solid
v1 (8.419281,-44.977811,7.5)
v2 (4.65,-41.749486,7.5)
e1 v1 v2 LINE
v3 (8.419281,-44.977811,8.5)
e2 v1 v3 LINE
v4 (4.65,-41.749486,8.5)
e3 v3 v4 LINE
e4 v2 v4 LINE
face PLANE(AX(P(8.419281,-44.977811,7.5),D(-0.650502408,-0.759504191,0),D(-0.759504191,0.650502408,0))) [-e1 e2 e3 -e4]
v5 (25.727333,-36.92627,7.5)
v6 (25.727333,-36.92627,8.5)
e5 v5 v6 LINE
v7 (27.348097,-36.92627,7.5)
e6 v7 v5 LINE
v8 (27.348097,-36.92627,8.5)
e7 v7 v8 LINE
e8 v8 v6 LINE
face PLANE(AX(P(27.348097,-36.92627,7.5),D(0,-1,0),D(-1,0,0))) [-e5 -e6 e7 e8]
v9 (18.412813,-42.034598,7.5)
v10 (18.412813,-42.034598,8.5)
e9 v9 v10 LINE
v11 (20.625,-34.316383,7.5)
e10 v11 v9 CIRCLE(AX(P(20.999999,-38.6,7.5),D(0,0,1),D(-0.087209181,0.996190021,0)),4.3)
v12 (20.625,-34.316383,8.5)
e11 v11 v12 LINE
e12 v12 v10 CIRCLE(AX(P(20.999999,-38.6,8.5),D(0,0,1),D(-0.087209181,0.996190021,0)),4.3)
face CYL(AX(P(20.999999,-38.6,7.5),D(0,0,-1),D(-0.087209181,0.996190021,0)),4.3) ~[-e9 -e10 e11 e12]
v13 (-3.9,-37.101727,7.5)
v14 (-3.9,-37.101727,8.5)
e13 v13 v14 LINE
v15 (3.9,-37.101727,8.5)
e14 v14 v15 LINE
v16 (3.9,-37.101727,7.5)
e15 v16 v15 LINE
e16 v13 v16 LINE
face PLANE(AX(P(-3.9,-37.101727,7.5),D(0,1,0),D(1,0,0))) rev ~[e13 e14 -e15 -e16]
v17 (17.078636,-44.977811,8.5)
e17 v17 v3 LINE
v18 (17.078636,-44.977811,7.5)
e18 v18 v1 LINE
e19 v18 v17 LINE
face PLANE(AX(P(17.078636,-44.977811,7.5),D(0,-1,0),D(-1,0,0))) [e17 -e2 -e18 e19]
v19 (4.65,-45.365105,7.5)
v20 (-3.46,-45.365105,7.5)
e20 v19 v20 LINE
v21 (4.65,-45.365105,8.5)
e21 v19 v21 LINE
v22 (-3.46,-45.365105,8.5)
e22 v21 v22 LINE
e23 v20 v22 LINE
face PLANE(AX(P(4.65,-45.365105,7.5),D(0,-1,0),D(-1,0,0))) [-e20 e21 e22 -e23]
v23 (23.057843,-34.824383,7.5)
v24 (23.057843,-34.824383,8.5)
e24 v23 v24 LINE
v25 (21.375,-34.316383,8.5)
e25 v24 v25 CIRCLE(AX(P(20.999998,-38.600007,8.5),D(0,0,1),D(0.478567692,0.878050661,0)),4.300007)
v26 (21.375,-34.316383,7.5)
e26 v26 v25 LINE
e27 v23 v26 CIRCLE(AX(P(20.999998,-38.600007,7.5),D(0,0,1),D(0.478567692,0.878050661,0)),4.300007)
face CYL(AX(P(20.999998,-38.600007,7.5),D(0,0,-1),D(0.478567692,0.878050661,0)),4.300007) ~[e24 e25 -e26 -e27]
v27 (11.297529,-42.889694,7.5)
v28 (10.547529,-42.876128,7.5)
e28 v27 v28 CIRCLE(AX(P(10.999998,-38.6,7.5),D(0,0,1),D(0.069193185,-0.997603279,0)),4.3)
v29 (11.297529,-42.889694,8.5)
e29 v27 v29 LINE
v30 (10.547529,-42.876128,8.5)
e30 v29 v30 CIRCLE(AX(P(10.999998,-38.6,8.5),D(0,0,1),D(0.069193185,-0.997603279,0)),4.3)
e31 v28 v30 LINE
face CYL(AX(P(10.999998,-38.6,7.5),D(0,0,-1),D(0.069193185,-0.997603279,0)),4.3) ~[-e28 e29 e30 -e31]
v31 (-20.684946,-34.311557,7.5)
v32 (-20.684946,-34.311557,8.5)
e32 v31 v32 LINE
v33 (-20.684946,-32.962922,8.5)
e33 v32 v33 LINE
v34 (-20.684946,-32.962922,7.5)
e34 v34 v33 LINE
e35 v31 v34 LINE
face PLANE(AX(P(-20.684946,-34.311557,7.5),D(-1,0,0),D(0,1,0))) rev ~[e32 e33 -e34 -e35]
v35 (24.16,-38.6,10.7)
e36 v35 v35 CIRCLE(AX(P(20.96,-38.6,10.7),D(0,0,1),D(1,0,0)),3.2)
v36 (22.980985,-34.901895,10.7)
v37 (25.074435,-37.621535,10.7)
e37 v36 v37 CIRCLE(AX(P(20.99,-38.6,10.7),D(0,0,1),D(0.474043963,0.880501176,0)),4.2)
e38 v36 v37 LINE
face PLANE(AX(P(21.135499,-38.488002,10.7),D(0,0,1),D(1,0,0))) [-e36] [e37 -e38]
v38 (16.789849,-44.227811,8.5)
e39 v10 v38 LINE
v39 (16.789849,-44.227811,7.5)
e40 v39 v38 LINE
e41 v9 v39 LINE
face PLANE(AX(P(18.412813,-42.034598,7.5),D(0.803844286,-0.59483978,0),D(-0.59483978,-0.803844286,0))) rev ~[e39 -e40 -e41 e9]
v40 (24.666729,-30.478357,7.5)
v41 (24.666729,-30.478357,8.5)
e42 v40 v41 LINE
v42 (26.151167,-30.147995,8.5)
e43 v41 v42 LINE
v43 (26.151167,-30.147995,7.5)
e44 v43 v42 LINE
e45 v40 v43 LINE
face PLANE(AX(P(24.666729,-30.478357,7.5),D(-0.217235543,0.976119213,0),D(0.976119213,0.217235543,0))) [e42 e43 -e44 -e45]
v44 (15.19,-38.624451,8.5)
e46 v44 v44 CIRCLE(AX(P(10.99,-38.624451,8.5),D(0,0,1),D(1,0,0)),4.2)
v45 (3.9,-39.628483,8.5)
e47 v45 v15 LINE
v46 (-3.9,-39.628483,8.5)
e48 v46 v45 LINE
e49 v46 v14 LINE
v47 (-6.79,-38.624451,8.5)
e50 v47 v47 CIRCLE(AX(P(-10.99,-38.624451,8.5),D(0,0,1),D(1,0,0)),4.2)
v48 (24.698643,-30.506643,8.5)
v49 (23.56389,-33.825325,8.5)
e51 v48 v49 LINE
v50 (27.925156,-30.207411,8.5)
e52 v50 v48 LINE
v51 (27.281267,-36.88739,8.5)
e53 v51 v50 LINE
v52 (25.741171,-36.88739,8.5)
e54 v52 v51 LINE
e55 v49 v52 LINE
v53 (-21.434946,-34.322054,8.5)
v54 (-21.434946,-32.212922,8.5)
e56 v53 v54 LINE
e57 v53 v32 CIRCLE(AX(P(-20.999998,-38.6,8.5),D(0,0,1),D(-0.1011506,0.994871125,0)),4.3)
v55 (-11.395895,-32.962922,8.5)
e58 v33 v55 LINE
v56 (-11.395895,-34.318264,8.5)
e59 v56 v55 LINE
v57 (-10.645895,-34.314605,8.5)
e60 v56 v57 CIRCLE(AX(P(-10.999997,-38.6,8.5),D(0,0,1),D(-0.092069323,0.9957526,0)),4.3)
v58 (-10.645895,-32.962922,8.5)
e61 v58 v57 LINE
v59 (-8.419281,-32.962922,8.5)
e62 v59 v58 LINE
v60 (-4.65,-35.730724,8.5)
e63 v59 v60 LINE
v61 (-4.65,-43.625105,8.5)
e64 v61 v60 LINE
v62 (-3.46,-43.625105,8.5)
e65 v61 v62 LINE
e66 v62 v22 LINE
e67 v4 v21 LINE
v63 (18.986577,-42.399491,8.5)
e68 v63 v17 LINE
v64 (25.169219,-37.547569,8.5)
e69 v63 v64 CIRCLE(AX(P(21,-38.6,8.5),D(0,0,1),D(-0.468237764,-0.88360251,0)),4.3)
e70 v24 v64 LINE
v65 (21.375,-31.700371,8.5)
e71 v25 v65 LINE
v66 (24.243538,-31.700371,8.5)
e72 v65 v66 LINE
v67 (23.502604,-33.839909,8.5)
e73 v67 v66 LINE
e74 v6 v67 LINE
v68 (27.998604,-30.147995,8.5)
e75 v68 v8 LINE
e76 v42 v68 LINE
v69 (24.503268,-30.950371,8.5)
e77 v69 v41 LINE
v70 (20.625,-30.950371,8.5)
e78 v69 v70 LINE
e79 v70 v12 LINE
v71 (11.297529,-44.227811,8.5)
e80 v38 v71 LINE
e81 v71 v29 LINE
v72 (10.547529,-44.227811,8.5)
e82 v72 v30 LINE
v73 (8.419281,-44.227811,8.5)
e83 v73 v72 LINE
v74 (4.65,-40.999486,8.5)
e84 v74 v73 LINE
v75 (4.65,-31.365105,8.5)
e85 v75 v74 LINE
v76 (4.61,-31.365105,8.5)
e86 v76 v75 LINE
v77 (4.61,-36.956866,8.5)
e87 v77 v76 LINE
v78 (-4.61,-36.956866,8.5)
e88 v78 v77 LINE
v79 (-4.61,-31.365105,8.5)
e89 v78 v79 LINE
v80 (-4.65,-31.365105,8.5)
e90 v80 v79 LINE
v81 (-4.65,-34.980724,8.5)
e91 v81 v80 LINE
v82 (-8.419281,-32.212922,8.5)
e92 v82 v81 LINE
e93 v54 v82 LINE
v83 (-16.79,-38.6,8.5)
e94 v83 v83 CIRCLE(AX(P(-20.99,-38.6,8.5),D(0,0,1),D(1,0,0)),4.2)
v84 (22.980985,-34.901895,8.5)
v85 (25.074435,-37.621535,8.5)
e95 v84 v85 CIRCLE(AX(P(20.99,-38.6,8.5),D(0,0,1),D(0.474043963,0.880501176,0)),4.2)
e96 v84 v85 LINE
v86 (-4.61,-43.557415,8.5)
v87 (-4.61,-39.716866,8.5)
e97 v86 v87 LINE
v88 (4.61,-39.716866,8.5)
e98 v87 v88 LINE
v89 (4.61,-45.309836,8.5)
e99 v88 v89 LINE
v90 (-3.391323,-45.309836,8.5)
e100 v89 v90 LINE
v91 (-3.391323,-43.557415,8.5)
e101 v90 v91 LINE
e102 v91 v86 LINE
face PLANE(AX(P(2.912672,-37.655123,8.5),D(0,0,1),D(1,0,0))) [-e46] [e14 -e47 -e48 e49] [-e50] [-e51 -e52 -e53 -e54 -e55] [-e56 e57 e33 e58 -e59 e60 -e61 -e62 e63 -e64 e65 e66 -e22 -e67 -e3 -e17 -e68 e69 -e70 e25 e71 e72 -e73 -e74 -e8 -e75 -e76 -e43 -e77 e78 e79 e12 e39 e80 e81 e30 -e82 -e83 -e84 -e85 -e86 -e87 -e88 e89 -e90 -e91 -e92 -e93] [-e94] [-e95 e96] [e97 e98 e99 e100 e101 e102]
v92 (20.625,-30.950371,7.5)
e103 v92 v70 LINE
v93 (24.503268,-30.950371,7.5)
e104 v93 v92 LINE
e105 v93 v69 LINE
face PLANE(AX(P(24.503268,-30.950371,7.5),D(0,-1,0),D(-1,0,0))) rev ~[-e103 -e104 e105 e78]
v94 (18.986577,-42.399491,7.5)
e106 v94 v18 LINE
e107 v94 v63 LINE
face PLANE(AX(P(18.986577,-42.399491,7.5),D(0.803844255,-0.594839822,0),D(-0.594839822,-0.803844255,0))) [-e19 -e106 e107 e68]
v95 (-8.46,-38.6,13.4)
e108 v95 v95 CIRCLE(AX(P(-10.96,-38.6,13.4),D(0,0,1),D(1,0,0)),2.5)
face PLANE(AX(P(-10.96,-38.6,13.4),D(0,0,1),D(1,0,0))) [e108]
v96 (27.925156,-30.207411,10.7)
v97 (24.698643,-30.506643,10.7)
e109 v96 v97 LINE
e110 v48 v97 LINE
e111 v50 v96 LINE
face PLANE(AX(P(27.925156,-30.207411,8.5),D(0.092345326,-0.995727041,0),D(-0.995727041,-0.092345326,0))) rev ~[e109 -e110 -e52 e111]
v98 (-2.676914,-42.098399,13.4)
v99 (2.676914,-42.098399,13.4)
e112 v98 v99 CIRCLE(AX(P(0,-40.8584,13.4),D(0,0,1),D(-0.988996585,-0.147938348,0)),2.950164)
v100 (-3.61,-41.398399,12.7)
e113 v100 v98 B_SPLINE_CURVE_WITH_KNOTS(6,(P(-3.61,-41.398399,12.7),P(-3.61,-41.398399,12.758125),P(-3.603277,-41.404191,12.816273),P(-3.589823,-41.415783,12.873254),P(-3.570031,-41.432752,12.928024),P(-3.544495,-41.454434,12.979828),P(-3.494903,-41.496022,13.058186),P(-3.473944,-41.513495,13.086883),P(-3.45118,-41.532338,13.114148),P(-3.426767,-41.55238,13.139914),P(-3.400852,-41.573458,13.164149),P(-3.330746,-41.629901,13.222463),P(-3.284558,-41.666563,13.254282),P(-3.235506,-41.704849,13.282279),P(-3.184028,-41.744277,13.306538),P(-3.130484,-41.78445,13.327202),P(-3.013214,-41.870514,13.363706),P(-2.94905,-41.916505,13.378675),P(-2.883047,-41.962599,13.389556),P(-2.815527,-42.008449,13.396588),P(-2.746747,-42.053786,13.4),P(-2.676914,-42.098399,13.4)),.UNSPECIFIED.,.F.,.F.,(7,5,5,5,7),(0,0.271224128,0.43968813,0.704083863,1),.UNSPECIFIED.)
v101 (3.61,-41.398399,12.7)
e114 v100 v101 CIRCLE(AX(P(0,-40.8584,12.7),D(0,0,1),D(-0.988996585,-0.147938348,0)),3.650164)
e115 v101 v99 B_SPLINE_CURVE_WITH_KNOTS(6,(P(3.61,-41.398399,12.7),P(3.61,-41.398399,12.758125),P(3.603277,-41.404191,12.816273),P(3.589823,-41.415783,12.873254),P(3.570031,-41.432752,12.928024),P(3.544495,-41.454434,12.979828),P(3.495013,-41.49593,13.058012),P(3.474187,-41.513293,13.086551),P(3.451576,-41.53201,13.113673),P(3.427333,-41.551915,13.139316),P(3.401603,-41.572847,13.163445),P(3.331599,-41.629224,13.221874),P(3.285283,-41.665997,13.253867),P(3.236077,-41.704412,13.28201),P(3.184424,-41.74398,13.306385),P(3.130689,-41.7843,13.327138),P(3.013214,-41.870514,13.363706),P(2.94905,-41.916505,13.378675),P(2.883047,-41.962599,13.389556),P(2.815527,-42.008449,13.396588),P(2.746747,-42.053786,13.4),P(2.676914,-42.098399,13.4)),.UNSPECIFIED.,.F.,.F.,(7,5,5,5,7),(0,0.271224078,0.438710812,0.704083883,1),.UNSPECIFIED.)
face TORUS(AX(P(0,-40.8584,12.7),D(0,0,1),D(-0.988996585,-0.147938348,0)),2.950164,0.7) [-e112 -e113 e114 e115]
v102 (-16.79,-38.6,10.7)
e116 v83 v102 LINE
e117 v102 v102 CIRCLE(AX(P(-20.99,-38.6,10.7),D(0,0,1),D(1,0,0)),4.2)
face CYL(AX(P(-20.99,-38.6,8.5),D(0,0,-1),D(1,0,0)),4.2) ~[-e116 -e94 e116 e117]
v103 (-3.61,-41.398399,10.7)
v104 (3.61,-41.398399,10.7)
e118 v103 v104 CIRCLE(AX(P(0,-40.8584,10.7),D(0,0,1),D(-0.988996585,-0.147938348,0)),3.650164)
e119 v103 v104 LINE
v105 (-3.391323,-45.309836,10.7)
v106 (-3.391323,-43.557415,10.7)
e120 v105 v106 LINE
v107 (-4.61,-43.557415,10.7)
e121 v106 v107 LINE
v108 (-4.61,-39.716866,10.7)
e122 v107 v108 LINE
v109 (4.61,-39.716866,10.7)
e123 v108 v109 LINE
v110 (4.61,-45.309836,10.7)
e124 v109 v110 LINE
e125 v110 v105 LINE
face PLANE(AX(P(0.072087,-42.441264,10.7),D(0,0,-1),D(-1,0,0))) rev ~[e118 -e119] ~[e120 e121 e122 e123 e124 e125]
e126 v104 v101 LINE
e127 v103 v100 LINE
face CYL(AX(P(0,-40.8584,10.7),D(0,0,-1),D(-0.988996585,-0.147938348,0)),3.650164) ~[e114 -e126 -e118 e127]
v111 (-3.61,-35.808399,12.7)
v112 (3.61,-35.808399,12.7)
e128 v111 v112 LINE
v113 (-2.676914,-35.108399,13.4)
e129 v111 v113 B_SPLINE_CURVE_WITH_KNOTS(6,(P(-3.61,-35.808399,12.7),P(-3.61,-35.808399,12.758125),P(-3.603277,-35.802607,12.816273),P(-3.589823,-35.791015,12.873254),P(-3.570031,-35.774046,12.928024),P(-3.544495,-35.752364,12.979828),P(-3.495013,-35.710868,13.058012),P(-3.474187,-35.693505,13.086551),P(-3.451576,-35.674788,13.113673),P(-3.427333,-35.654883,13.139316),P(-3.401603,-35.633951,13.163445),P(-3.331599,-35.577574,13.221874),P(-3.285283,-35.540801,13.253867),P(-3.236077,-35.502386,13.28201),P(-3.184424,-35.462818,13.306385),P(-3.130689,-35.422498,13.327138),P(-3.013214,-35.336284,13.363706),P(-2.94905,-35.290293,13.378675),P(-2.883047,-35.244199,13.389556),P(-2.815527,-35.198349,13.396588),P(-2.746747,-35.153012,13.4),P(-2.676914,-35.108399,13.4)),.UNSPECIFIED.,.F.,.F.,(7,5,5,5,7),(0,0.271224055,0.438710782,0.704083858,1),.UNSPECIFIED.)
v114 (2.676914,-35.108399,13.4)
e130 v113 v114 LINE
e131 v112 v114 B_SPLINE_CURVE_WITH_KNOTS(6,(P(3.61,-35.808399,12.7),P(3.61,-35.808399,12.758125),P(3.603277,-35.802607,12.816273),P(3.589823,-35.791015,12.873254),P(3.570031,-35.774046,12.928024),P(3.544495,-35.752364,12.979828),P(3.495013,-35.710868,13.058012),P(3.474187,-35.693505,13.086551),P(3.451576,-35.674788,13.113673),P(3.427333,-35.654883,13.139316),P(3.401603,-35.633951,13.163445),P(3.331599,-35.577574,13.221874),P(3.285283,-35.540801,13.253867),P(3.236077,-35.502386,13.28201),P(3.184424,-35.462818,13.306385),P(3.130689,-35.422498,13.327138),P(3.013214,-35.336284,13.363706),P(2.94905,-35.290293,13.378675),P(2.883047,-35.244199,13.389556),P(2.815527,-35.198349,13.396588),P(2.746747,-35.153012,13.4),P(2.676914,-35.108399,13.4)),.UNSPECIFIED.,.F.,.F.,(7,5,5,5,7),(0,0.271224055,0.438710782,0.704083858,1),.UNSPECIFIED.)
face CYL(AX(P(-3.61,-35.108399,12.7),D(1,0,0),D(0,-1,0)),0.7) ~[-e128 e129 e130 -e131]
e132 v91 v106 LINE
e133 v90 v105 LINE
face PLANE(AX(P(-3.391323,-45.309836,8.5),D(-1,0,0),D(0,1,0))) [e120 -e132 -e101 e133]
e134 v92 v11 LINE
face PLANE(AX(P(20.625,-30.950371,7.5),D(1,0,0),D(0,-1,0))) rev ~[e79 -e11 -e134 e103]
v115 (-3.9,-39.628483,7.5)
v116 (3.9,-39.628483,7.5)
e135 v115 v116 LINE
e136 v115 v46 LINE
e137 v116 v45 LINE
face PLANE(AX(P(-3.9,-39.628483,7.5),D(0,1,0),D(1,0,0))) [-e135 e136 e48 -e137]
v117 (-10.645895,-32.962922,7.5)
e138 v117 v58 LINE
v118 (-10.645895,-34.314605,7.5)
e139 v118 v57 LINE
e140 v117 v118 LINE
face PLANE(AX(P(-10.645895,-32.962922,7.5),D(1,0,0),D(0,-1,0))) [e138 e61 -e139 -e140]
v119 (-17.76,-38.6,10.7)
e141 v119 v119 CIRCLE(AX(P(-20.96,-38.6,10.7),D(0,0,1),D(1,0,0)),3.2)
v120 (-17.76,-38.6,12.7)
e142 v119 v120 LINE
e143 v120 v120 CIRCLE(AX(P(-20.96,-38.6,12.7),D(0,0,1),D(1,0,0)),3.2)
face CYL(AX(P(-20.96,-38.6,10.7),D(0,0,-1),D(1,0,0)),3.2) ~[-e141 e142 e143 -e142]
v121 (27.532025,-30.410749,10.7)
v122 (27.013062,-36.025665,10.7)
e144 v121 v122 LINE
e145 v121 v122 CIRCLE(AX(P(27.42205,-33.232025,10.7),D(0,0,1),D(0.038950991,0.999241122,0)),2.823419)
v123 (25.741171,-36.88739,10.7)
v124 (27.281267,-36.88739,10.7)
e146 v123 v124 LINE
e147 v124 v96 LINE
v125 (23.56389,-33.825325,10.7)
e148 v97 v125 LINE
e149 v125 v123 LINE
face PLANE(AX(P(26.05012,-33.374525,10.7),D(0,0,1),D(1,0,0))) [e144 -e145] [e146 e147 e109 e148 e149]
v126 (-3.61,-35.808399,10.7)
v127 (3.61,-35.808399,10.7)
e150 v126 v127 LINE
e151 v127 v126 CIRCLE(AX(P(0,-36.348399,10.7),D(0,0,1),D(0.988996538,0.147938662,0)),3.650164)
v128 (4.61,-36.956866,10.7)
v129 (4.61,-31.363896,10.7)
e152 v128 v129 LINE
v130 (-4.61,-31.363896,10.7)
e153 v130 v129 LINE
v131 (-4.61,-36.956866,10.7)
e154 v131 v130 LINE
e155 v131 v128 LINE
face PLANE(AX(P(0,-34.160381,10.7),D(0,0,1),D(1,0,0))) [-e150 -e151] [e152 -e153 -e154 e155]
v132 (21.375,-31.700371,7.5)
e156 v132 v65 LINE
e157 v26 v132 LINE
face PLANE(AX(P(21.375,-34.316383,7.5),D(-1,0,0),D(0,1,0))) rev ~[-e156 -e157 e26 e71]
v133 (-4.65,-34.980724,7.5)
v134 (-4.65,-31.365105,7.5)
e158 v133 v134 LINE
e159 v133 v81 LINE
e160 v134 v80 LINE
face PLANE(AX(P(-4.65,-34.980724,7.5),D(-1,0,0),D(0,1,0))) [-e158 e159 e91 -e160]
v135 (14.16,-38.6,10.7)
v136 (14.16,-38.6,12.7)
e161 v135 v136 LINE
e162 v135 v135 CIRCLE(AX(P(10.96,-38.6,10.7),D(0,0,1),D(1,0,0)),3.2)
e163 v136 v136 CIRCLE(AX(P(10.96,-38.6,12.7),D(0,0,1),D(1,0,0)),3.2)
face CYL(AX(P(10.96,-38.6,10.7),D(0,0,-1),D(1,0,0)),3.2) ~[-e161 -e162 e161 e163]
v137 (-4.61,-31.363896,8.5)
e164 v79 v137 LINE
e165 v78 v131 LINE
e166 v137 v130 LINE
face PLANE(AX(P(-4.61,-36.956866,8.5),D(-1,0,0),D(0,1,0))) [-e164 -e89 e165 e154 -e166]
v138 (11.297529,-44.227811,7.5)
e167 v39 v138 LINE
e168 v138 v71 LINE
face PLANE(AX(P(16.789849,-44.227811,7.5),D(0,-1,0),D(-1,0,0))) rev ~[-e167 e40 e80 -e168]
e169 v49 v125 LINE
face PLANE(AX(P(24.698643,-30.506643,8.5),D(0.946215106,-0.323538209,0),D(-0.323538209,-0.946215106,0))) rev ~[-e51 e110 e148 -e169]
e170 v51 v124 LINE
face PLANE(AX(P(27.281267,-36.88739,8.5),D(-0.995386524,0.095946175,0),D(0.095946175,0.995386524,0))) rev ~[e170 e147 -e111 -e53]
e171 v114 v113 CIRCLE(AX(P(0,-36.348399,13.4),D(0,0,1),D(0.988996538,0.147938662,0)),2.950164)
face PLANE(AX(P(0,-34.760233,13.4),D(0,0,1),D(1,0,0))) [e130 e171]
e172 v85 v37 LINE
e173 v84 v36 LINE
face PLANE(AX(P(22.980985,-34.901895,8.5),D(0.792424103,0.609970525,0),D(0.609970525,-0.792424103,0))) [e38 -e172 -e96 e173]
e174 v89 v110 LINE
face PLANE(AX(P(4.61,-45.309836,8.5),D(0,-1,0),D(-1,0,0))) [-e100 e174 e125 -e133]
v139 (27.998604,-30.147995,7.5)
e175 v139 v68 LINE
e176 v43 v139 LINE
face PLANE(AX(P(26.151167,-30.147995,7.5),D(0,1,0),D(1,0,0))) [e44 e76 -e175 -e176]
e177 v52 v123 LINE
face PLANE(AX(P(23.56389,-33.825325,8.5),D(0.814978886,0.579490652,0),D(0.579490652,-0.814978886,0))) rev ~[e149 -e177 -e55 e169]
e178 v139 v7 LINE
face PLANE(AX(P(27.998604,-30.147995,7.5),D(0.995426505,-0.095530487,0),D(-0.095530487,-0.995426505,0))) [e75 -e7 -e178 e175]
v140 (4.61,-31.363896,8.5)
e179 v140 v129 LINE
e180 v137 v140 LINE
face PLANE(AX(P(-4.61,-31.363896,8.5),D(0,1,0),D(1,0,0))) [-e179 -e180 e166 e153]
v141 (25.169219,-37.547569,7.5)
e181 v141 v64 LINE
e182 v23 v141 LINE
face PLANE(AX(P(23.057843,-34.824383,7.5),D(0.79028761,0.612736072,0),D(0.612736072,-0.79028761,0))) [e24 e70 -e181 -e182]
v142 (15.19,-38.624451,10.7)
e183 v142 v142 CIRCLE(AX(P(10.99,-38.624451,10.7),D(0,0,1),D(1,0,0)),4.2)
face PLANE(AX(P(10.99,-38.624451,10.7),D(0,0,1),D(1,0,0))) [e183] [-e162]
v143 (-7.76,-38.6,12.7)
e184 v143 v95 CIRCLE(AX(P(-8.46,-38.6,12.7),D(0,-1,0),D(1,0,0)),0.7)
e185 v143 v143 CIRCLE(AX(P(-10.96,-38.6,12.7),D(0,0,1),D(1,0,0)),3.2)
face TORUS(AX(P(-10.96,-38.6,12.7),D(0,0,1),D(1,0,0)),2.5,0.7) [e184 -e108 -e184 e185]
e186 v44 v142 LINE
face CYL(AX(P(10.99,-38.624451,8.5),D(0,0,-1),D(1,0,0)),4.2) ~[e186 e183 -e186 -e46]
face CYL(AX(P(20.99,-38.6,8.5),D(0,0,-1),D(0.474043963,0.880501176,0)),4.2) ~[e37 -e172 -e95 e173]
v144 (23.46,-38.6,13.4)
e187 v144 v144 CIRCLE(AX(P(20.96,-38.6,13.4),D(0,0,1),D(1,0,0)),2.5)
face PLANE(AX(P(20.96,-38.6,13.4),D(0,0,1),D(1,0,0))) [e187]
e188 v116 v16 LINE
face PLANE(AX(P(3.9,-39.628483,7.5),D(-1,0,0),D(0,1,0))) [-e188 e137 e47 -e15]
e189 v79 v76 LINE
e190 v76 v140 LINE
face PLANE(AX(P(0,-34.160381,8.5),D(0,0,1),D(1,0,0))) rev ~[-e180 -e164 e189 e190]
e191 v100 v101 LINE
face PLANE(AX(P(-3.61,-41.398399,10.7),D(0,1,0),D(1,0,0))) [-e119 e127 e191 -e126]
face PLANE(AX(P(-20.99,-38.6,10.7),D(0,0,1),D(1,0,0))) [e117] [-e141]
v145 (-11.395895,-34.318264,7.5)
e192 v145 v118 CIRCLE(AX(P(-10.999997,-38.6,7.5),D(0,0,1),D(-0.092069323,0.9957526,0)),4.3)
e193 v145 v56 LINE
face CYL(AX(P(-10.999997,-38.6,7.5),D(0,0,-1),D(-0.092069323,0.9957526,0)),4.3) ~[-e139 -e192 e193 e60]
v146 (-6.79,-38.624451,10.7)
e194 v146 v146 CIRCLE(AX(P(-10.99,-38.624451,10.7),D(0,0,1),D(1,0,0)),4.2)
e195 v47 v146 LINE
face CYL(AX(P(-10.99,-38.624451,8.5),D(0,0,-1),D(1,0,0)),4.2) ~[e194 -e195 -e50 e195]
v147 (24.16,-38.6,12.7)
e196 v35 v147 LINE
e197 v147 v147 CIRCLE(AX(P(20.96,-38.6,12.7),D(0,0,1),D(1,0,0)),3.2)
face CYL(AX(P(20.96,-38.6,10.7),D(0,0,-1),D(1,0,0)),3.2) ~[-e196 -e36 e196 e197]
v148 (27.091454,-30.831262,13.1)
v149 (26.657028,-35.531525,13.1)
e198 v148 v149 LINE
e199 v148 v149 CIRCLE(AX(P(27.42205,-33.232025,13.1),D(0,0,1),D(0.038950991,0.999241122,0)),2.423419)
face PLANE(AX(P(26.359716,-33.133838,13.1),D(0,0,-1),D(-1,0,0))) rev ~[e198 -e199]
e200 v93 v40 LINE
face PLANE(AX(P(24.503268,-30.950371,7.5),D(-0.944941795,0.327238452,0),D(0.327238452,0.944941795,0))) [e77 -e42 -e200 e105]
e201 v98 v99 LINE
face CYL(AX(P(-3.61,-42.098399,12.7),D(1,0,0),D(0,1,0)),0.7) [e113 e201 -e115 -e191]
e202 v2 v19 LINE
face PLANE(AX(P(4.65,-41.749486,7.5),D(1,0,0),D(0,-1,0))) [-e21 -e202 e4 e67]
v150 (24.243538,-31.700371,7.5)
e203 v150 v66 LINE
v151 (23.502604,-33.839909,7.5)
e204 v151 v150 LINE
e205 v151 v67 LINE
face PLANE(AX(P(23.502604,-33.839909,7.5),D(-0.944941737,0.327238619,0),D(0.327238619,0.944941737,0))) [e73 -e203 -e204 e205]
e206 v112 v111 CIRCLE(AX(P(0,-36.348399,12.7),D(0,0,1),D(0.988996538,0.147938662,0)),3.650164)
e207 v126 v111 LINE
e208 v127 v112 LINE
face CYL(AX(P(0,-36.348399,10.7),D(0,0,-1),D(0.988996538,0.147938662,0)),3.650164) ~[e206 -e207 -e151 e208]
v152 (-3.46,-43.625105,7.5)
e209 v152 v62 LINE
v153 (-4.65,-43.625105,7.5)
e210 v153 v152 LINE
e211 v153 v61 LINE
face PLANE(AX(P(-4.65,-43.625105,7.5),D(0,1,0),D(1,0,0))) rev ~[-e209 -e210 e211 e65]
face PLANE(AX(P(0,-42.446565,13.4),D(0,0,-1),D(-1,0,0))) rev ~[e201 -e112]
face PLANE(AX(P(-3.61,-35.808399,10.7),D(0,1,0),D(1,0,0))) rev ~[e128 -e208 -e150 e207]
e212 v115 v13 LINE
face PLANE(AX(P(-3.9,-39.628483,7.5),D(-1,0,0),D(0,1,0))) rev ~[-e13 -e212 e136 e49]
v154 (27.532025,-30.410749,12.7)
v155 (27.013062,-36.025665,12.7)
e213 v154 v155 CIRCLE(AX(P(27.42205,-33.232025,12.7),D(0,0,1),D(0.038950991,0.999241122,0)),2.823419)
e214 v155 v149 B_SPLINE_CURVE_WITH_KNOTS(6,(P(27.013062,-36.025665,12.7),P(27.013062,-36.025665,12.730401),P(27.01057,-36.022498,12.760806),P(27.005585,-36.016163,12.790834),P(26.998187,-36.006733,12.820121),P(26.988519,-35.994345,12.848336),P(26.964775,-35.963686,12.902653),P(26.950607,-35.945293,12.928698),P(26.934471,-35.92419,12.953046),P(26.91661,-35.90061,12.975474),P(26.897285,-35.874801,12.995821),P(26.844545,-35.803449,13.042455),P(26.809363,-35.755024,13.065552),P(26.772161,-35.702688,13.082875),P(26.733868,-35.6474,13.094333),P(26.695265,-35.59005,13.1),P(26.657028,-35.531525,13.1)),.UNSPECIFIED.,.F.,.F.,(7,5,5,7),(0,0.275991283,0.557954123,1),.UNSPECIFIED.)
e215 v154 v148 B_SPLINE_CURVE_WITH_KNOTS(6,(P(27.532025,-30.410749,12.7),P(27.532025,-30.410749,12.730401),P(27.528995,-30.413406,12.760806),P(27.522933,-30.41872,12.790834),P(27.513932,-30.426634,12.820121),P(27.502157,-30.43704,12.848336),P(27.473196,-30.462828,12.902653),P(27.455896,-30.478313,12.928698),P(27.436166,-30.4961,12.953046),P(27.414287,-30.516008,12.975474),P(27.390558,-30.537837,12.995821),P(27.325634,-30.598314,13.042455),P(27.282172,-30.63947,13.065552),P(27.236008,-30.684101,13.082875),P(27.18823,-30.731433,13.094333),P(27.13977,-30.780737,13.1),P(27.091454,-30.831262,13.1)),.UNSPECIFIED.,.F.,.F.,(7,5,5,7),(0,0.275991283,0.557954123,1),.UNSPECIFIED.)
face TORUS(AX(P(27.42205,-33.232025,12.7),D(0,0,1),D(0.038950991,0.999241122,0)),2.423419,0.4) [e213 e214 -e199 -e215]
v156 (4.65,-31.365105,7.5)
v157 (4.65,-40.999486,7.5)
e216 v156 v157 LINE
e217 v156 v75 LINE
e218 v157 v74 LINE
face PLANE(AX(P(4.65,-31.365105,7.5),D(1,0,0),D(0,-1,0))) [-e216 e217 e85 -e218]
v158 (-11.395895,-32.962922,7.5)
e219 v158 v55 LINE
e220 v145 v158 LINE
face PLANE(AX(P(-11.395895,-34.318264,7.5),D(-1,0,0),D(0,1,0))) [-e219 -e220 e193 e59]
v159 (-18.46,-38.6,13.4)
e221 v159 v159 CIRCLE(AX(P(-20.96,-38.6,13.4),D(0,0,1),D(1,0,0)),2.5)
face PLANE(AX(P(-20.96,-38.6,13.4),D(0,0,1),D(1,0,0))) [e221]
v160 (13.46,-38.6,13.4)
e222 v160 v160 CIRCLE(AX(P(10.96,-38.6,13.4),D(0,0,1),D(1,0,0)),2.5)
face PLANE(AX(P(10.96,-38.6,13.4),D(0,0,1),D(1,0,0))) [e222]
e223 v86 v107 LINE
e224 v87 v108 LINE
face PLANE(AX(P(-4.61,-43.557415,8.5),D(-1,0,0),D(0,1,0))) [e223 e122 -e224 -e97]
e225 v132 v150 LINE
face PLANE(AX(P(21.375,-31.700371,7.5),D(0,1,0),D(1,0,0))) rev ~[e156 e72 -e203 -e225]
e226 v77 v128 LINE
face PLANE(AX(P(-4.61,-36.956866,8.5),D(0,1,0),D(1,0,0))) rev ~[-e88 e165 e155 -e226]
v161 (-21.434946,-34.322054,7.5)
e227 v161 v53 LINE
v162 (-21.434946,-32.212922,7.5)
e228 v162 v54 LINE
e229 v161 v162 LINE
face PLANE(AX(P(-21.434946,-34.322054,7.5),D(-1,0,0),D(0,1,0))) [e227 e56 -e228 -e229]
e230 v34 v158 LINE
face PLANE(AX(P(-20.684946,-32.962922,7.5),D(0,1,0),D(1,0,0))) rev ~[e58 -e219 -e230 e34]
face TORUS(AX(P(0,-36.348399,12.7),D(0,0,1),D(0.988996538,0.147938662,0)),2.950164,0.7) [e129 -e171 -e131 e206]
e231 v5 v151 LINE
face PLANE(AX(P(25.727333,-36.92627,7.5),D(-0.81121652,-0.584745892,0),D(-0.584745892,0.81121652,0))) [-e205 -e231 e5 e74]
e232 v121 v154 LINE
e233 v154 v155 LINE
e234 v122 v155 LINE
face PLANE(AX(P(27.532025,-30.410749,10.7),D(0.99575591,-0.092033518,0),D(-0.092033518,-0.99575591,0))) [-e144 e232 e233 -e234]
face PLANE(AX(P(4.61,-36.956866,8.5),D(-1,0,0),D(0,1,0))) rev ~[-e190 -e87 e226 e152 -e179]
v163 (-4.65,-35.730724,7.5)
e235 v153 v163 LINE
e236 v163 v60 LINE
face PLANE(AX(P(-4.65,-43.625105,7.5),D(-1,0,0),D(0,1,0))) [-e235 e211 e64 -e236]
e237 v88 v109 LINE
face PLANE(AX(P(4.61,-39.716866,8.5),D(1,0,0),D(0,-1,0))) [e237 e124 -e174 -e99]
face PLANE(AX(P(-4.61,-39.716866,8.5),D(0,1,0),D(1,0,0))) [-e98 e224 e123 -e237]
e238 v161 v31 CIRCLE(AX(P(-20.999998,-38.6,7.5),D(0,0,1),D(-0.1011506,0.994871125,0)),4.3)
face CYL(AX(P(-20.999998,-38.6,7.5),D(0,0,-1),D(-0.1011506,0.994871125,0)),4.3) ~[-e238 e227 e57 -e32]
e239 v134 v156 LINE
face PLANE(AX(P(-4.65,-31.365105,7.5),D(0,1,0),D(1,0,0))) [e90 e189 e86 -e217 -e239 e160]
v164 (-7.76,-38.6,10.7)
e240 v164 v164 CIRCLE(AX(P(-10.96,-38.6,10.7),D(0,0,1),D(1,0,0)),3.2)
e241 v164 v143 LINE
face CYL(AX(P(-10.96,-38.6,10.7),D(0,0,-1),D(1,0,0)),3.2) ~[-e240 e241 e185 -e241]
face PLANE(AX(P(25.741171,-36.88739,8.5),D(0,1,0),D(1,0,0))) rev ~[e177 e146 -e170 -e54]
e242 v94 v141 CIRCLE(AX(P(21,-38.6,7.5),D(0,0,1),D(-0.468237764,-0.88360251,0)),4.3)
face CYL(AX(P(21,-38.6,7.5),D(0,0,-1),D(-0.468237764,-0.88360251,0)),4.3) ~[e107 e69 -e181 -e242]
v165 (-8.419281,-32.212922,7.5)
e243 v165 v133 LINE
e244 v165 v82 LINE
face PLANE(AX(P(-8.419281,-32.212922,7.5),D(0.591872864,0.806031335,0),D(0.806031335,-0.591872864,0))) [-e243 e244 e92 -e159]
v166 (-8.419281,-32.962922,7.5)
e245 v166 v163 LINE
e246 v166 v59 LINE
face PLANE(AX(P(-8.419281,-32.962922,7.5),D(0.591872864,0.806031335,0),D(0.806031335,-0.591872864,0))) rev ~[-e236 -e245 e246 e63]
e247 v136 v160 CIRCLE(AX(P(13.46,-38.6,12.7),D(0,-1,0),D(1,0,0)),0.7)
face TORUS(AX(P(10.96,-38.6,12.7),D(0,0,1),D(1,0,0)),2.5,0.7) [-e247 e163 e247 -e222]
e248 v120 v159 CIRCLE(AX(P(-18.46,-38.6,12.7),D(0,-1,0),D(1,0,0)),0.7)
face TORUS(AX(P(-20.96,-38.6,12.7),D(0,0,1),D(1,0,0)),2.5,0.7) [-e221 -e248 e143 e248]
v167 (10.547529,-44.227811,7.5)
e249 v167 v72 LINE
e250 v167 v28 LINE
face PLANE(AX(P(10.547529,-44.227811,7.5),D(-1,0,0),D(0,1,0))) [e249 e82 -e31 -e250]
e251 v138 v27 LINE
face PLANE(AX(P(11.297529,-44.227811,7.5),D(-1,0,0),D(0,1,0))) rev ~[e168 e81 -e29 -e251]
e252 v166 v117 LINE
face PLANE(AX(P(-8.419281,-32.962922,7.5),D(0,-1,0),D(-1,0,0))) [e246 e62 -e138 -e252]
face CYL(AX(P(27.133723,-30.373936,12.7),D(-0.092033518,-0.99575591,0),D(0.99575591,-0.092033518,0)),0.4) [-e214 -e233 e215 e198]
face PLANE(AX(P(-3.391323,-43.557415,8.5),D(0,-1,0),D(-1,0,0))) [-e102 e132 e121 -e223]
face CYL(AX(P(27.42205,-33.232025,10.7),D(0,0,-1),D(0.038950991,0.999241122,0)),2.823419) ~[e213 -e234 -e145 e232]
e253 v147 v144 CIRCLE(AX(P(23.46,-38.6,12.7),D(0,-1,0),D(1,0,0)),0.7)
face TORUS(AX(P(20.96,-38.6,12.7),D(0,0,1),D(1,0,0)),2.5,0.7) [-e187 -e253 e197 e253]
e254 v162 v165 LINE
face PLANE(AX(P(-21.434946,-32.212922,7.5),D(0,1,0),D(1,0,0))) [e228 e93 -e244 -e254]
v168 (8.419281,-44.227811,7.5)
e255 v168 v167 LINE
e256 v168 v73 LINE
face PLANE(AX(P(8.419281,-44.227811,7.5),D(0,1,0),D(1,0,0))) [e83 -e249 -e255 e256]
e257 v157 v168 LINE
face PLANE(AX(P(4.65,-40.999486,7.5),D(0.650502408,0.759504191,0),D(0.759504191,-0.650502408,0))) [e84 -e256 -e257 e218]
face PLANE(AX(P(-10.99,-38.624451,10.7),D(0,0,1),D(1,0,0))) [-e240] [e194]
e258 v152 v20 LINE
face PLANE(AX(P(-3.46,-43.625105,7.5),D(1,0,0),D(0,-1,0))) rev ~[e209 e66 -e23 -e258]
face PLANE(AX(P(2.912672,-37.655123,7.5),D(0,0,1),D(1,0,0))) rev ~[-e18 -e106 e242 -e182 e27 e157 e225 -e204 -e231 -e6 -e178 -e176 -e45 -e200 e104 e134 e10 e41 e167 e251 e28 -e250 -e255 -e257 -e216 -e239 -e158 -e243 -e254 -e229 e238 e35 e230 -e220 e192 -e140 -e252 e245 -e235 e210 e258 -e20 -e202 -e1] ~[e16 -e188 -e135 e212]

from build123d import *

# Parameters (mm, degrees)
SKETCH015_W  = 7.8
SKETCH015_H  = 2.526756
PAD006_DEPTH = 1
SKETCH059_R  = 4.2
SKETCH059_W  = 9.22
SKETCH059_H  = 5.59297
PAD029_DEPTH = 2.2
SKETCH016_R  = 3.2
PAD030_DEPTH = 2.7
PAD031_DEPTH = 2.4
FILLET009_R  = 0.7
FILLET010_R  = 0.4


with BuildPart() as part:
    # Sketch015 → Pad006 (new body)
    with BuildSketch(Plane.XY.offset(10)):
        with BuildLine():
            ThreePointArc((-21.434946, -34.322054), (-20.939825, -42.899579), (-20.684946, -34.311557))
            Line((-20.684946, -34.311557), (-20.684946, -32.962922))
            Line((-20.684946, -32.962922), (-11.395895, -32.962922))
            Line((-11.395895, -34.318264), (-11.395895, -32.962922))
            ThreePointArc((-11.395895, -34.318264), (-10.979025, -42.899949), (-10.645895, -34.314605))
            Line((-10.645895, -32.962922), (-10.645895, -34.314605))
            Line((-8.419281, -32.962922), (-10.645895, -32.962922))
            Line((-8.419281, -32.962922), (-4.65, -35.730724))
            Line((-4.65, -43.625105), (-4.65, -35.730724))
            Line((-4.65, -43.625105), (-3.46, -43.625105))
            Line((-3.46, -43.625105), (-3.46, -45.365105))
            Line((4.65, -45.365105), (-3.46, -45.365105))
            Line((4.65, -41.749486), (4.65, -45.365105))
            Line((8.419281, -44.977811), (4.65, -41.749486))
            Line((17.078636, -44.977811), (8.419281, -44.977811))
            Line((18.986577, -42.399491), (17.078636, -44.977811))
            ThreePointArc((18.986577, -42.399491), (23.654647, -41.982728), (25.169219, -37.547569))
            Line((23.057843, -34.824383), (25.169219, -37.547569))
            ThreePointArc((23.057843, -34.824383), (22.242657, -34.483472), (21.375, -34.316383))
            Line((21.375, -34.316383), (21.375, -31.700371))
            Line((21.375, -31.700371), (24.243538, -31.700371))
            Line((23.502604, -33.839909), (24.243538, -31.700371))
            Line((25.727333, -36.92627), (23.502604, -33.839909))
            Line((27.348097, -36.92627), (25.727333, -36.92627))
            Line((27.998604, -30.147995), (27.348097, -36.92627))
            Line((26.151167, -30.147995), (27.998604, -30.147995))
            Line((24.666729, -30.478357), (26.151167, -30.147995))
            Line((24.503268, -30.950371), (24.666729, -30.478357))
            Line((24.503268, -30.950371), (20.625, -30.950371))
            Line((20.625, -30.950371), (20.625, -34.316383))
            ThreePointArc((20.625, -34.316383), (16.866436, -37.415242), (18.412813, -42.034598))
            Line((18.412813, -42.034598), (16.789849, -44.227811))
            Line((16.789849, -44.227811), (11.297529, -44.227811))
            Line((11.297529, -44.227811), (11.297529, -42.889694))
            ThreePointArc((11.297529, -42.889694), (11.077768, -34.300703), (10.547529, -42.876128))
            Line((10.547529, -44.227811), (10.547529, -42.876128))
            Line((8.419281, -44.227811), (10.547529, -44.227811))
            Line((4.65, -40.999486), (8.419281, -44.227811))
            Line((4.65, -31.365105), (4.65, -40.999486))
            Line((-4.65, -31.365105), (4.65, -31.365105))
            Line((-4.65, -34.980724), (-4.65, -31.365105))
            Line((-8.419281, -32.212922), (-4.65, -34.980724))
            Line((-21.434946, -32.212922), (-8.419281, -32.212922))
            Line((-21.434946, -34.322054), (-21.434946, -32.212922))
        make_face()
        with Locations((0, -38.365105)):
            Rectangle(SKETCH015_W, SKETCH015_H, mode=Mode.SUBTRACT)
    extrude(amount=PAD006_DEPTH)

    # Sketch059 (on Face50 of Pad006) → Pad029 (join)
    with BuildSketch(Plane.XY.offset(11)):
        with Locations((-20.99, -38.6)):
            Circle(SKETCH059_R)
        with Locations((-10.99, -38.624451)):
            Circle(SKETCH059_R)
        with Locations((10.99, -38.624451)):
            Circle(SKETCH059_R)
        with BuildLine():
            ThreePointArc((22.980985, -34.901895), (17.661819, -41.161876), (25.074435, -37.621535))
            Line((22.980985, -34.901895), (25.074435, -37.621535))
        make_face()
        with Locations((0, -34.160381)):
            Rectangle(SKETCH059_W, SKETCH059_H)
        Polygon((-4.61, -39.716866), (4.61, -39.716866), (4.61, -45.309836), (-3.391323, -45.309836), (-3.391323, -43.557415), (-4.61, -43.557415), align=None)
        Polygon((24.698643, -30.506643), (23.56389, -33.825325), (25.741171, -36.88739), (27.281267, -36.88739), (27.925156, -30.207411), align=None)
    extrude(amount=PAD029_DEPTH)

    # Sketch016 (on Face75 of Pad029) → Pad030 (join)
    with BuildSketch(Plane.XY.offset(13.2)):
        with Locations((-20.96, -38.6)):
            Circle(SKETCH016_R)
        with Locations((-10.96, -38.6)):
            Circle(SKETCH016_R)
        with Locations((10.96, -38.6)):
            Circle(SKETCH016_R)
        with Locations((20.96, -38.6)):
            Circle(SKETCH016_R)
        with BuildLine():
            Line((-3.61, -35.808399), (3.61, -35.808399))
            ThreePointArc((3.61, -35.808399), (0, -32.698235), (-3.61, -35.808399))
        make_face()
        with BuildLine():
            Line((-3.61, -41.398399), (3.61, -41.398399))
            ThreePointArc((-3.61, -41.398399), (0, -44.508564), (3.61, -41.398399))
        make_face()
    extrude(amount=PAD030_DEPTH)

    # Sketch017 (on Face76 of Pad030) → Pad031 (join)
    with BuildSketch(Plane.XY.offset(13.2)):
        with BuildLine():
            Line((27.532025, -30.410749), (27.013062, -36.025665))
            ThreePointArc((27.532025, -30.410749), (24.610614, -32.972176), (27.013062, -36.025665))
        make_face()
    extrude(amount=PAD031_DEPTH)

    # Fillet009
    fillet009_edges = [part.edges().sort_by_distance(p)[0] for p in [
        (-24.16, -38.6, 15.9),
        (-14.16, -38.6, 15.9),
        (7.76, -38.6, 15.9),
        (17.76, -38.6, 15.9),
        (0, -41.398399, 15.9),
        (0, -44.508564, 15.9),
        (0, -35.808399, 15.9),
        (0, -32.698235, 15.9),
    ]]
    fillet(fillet009_edges, radius=FILLET009_R)

    # Fillet010
    fillet010_edges = [part.edges().sort_by_distance(p)[0] for p in [
        (27.272544, -33.218207, 15.6),
        (24.610614, -32.972176, 15.6),
    ]]
    fillet(fillet010_edges, radius=FILLET010_R)


with BuildPart() as part_1:
    # Body004 placement: moved
    add(part.part.moved(Location((0, 0, -2.5))))


solid = part_1.part
